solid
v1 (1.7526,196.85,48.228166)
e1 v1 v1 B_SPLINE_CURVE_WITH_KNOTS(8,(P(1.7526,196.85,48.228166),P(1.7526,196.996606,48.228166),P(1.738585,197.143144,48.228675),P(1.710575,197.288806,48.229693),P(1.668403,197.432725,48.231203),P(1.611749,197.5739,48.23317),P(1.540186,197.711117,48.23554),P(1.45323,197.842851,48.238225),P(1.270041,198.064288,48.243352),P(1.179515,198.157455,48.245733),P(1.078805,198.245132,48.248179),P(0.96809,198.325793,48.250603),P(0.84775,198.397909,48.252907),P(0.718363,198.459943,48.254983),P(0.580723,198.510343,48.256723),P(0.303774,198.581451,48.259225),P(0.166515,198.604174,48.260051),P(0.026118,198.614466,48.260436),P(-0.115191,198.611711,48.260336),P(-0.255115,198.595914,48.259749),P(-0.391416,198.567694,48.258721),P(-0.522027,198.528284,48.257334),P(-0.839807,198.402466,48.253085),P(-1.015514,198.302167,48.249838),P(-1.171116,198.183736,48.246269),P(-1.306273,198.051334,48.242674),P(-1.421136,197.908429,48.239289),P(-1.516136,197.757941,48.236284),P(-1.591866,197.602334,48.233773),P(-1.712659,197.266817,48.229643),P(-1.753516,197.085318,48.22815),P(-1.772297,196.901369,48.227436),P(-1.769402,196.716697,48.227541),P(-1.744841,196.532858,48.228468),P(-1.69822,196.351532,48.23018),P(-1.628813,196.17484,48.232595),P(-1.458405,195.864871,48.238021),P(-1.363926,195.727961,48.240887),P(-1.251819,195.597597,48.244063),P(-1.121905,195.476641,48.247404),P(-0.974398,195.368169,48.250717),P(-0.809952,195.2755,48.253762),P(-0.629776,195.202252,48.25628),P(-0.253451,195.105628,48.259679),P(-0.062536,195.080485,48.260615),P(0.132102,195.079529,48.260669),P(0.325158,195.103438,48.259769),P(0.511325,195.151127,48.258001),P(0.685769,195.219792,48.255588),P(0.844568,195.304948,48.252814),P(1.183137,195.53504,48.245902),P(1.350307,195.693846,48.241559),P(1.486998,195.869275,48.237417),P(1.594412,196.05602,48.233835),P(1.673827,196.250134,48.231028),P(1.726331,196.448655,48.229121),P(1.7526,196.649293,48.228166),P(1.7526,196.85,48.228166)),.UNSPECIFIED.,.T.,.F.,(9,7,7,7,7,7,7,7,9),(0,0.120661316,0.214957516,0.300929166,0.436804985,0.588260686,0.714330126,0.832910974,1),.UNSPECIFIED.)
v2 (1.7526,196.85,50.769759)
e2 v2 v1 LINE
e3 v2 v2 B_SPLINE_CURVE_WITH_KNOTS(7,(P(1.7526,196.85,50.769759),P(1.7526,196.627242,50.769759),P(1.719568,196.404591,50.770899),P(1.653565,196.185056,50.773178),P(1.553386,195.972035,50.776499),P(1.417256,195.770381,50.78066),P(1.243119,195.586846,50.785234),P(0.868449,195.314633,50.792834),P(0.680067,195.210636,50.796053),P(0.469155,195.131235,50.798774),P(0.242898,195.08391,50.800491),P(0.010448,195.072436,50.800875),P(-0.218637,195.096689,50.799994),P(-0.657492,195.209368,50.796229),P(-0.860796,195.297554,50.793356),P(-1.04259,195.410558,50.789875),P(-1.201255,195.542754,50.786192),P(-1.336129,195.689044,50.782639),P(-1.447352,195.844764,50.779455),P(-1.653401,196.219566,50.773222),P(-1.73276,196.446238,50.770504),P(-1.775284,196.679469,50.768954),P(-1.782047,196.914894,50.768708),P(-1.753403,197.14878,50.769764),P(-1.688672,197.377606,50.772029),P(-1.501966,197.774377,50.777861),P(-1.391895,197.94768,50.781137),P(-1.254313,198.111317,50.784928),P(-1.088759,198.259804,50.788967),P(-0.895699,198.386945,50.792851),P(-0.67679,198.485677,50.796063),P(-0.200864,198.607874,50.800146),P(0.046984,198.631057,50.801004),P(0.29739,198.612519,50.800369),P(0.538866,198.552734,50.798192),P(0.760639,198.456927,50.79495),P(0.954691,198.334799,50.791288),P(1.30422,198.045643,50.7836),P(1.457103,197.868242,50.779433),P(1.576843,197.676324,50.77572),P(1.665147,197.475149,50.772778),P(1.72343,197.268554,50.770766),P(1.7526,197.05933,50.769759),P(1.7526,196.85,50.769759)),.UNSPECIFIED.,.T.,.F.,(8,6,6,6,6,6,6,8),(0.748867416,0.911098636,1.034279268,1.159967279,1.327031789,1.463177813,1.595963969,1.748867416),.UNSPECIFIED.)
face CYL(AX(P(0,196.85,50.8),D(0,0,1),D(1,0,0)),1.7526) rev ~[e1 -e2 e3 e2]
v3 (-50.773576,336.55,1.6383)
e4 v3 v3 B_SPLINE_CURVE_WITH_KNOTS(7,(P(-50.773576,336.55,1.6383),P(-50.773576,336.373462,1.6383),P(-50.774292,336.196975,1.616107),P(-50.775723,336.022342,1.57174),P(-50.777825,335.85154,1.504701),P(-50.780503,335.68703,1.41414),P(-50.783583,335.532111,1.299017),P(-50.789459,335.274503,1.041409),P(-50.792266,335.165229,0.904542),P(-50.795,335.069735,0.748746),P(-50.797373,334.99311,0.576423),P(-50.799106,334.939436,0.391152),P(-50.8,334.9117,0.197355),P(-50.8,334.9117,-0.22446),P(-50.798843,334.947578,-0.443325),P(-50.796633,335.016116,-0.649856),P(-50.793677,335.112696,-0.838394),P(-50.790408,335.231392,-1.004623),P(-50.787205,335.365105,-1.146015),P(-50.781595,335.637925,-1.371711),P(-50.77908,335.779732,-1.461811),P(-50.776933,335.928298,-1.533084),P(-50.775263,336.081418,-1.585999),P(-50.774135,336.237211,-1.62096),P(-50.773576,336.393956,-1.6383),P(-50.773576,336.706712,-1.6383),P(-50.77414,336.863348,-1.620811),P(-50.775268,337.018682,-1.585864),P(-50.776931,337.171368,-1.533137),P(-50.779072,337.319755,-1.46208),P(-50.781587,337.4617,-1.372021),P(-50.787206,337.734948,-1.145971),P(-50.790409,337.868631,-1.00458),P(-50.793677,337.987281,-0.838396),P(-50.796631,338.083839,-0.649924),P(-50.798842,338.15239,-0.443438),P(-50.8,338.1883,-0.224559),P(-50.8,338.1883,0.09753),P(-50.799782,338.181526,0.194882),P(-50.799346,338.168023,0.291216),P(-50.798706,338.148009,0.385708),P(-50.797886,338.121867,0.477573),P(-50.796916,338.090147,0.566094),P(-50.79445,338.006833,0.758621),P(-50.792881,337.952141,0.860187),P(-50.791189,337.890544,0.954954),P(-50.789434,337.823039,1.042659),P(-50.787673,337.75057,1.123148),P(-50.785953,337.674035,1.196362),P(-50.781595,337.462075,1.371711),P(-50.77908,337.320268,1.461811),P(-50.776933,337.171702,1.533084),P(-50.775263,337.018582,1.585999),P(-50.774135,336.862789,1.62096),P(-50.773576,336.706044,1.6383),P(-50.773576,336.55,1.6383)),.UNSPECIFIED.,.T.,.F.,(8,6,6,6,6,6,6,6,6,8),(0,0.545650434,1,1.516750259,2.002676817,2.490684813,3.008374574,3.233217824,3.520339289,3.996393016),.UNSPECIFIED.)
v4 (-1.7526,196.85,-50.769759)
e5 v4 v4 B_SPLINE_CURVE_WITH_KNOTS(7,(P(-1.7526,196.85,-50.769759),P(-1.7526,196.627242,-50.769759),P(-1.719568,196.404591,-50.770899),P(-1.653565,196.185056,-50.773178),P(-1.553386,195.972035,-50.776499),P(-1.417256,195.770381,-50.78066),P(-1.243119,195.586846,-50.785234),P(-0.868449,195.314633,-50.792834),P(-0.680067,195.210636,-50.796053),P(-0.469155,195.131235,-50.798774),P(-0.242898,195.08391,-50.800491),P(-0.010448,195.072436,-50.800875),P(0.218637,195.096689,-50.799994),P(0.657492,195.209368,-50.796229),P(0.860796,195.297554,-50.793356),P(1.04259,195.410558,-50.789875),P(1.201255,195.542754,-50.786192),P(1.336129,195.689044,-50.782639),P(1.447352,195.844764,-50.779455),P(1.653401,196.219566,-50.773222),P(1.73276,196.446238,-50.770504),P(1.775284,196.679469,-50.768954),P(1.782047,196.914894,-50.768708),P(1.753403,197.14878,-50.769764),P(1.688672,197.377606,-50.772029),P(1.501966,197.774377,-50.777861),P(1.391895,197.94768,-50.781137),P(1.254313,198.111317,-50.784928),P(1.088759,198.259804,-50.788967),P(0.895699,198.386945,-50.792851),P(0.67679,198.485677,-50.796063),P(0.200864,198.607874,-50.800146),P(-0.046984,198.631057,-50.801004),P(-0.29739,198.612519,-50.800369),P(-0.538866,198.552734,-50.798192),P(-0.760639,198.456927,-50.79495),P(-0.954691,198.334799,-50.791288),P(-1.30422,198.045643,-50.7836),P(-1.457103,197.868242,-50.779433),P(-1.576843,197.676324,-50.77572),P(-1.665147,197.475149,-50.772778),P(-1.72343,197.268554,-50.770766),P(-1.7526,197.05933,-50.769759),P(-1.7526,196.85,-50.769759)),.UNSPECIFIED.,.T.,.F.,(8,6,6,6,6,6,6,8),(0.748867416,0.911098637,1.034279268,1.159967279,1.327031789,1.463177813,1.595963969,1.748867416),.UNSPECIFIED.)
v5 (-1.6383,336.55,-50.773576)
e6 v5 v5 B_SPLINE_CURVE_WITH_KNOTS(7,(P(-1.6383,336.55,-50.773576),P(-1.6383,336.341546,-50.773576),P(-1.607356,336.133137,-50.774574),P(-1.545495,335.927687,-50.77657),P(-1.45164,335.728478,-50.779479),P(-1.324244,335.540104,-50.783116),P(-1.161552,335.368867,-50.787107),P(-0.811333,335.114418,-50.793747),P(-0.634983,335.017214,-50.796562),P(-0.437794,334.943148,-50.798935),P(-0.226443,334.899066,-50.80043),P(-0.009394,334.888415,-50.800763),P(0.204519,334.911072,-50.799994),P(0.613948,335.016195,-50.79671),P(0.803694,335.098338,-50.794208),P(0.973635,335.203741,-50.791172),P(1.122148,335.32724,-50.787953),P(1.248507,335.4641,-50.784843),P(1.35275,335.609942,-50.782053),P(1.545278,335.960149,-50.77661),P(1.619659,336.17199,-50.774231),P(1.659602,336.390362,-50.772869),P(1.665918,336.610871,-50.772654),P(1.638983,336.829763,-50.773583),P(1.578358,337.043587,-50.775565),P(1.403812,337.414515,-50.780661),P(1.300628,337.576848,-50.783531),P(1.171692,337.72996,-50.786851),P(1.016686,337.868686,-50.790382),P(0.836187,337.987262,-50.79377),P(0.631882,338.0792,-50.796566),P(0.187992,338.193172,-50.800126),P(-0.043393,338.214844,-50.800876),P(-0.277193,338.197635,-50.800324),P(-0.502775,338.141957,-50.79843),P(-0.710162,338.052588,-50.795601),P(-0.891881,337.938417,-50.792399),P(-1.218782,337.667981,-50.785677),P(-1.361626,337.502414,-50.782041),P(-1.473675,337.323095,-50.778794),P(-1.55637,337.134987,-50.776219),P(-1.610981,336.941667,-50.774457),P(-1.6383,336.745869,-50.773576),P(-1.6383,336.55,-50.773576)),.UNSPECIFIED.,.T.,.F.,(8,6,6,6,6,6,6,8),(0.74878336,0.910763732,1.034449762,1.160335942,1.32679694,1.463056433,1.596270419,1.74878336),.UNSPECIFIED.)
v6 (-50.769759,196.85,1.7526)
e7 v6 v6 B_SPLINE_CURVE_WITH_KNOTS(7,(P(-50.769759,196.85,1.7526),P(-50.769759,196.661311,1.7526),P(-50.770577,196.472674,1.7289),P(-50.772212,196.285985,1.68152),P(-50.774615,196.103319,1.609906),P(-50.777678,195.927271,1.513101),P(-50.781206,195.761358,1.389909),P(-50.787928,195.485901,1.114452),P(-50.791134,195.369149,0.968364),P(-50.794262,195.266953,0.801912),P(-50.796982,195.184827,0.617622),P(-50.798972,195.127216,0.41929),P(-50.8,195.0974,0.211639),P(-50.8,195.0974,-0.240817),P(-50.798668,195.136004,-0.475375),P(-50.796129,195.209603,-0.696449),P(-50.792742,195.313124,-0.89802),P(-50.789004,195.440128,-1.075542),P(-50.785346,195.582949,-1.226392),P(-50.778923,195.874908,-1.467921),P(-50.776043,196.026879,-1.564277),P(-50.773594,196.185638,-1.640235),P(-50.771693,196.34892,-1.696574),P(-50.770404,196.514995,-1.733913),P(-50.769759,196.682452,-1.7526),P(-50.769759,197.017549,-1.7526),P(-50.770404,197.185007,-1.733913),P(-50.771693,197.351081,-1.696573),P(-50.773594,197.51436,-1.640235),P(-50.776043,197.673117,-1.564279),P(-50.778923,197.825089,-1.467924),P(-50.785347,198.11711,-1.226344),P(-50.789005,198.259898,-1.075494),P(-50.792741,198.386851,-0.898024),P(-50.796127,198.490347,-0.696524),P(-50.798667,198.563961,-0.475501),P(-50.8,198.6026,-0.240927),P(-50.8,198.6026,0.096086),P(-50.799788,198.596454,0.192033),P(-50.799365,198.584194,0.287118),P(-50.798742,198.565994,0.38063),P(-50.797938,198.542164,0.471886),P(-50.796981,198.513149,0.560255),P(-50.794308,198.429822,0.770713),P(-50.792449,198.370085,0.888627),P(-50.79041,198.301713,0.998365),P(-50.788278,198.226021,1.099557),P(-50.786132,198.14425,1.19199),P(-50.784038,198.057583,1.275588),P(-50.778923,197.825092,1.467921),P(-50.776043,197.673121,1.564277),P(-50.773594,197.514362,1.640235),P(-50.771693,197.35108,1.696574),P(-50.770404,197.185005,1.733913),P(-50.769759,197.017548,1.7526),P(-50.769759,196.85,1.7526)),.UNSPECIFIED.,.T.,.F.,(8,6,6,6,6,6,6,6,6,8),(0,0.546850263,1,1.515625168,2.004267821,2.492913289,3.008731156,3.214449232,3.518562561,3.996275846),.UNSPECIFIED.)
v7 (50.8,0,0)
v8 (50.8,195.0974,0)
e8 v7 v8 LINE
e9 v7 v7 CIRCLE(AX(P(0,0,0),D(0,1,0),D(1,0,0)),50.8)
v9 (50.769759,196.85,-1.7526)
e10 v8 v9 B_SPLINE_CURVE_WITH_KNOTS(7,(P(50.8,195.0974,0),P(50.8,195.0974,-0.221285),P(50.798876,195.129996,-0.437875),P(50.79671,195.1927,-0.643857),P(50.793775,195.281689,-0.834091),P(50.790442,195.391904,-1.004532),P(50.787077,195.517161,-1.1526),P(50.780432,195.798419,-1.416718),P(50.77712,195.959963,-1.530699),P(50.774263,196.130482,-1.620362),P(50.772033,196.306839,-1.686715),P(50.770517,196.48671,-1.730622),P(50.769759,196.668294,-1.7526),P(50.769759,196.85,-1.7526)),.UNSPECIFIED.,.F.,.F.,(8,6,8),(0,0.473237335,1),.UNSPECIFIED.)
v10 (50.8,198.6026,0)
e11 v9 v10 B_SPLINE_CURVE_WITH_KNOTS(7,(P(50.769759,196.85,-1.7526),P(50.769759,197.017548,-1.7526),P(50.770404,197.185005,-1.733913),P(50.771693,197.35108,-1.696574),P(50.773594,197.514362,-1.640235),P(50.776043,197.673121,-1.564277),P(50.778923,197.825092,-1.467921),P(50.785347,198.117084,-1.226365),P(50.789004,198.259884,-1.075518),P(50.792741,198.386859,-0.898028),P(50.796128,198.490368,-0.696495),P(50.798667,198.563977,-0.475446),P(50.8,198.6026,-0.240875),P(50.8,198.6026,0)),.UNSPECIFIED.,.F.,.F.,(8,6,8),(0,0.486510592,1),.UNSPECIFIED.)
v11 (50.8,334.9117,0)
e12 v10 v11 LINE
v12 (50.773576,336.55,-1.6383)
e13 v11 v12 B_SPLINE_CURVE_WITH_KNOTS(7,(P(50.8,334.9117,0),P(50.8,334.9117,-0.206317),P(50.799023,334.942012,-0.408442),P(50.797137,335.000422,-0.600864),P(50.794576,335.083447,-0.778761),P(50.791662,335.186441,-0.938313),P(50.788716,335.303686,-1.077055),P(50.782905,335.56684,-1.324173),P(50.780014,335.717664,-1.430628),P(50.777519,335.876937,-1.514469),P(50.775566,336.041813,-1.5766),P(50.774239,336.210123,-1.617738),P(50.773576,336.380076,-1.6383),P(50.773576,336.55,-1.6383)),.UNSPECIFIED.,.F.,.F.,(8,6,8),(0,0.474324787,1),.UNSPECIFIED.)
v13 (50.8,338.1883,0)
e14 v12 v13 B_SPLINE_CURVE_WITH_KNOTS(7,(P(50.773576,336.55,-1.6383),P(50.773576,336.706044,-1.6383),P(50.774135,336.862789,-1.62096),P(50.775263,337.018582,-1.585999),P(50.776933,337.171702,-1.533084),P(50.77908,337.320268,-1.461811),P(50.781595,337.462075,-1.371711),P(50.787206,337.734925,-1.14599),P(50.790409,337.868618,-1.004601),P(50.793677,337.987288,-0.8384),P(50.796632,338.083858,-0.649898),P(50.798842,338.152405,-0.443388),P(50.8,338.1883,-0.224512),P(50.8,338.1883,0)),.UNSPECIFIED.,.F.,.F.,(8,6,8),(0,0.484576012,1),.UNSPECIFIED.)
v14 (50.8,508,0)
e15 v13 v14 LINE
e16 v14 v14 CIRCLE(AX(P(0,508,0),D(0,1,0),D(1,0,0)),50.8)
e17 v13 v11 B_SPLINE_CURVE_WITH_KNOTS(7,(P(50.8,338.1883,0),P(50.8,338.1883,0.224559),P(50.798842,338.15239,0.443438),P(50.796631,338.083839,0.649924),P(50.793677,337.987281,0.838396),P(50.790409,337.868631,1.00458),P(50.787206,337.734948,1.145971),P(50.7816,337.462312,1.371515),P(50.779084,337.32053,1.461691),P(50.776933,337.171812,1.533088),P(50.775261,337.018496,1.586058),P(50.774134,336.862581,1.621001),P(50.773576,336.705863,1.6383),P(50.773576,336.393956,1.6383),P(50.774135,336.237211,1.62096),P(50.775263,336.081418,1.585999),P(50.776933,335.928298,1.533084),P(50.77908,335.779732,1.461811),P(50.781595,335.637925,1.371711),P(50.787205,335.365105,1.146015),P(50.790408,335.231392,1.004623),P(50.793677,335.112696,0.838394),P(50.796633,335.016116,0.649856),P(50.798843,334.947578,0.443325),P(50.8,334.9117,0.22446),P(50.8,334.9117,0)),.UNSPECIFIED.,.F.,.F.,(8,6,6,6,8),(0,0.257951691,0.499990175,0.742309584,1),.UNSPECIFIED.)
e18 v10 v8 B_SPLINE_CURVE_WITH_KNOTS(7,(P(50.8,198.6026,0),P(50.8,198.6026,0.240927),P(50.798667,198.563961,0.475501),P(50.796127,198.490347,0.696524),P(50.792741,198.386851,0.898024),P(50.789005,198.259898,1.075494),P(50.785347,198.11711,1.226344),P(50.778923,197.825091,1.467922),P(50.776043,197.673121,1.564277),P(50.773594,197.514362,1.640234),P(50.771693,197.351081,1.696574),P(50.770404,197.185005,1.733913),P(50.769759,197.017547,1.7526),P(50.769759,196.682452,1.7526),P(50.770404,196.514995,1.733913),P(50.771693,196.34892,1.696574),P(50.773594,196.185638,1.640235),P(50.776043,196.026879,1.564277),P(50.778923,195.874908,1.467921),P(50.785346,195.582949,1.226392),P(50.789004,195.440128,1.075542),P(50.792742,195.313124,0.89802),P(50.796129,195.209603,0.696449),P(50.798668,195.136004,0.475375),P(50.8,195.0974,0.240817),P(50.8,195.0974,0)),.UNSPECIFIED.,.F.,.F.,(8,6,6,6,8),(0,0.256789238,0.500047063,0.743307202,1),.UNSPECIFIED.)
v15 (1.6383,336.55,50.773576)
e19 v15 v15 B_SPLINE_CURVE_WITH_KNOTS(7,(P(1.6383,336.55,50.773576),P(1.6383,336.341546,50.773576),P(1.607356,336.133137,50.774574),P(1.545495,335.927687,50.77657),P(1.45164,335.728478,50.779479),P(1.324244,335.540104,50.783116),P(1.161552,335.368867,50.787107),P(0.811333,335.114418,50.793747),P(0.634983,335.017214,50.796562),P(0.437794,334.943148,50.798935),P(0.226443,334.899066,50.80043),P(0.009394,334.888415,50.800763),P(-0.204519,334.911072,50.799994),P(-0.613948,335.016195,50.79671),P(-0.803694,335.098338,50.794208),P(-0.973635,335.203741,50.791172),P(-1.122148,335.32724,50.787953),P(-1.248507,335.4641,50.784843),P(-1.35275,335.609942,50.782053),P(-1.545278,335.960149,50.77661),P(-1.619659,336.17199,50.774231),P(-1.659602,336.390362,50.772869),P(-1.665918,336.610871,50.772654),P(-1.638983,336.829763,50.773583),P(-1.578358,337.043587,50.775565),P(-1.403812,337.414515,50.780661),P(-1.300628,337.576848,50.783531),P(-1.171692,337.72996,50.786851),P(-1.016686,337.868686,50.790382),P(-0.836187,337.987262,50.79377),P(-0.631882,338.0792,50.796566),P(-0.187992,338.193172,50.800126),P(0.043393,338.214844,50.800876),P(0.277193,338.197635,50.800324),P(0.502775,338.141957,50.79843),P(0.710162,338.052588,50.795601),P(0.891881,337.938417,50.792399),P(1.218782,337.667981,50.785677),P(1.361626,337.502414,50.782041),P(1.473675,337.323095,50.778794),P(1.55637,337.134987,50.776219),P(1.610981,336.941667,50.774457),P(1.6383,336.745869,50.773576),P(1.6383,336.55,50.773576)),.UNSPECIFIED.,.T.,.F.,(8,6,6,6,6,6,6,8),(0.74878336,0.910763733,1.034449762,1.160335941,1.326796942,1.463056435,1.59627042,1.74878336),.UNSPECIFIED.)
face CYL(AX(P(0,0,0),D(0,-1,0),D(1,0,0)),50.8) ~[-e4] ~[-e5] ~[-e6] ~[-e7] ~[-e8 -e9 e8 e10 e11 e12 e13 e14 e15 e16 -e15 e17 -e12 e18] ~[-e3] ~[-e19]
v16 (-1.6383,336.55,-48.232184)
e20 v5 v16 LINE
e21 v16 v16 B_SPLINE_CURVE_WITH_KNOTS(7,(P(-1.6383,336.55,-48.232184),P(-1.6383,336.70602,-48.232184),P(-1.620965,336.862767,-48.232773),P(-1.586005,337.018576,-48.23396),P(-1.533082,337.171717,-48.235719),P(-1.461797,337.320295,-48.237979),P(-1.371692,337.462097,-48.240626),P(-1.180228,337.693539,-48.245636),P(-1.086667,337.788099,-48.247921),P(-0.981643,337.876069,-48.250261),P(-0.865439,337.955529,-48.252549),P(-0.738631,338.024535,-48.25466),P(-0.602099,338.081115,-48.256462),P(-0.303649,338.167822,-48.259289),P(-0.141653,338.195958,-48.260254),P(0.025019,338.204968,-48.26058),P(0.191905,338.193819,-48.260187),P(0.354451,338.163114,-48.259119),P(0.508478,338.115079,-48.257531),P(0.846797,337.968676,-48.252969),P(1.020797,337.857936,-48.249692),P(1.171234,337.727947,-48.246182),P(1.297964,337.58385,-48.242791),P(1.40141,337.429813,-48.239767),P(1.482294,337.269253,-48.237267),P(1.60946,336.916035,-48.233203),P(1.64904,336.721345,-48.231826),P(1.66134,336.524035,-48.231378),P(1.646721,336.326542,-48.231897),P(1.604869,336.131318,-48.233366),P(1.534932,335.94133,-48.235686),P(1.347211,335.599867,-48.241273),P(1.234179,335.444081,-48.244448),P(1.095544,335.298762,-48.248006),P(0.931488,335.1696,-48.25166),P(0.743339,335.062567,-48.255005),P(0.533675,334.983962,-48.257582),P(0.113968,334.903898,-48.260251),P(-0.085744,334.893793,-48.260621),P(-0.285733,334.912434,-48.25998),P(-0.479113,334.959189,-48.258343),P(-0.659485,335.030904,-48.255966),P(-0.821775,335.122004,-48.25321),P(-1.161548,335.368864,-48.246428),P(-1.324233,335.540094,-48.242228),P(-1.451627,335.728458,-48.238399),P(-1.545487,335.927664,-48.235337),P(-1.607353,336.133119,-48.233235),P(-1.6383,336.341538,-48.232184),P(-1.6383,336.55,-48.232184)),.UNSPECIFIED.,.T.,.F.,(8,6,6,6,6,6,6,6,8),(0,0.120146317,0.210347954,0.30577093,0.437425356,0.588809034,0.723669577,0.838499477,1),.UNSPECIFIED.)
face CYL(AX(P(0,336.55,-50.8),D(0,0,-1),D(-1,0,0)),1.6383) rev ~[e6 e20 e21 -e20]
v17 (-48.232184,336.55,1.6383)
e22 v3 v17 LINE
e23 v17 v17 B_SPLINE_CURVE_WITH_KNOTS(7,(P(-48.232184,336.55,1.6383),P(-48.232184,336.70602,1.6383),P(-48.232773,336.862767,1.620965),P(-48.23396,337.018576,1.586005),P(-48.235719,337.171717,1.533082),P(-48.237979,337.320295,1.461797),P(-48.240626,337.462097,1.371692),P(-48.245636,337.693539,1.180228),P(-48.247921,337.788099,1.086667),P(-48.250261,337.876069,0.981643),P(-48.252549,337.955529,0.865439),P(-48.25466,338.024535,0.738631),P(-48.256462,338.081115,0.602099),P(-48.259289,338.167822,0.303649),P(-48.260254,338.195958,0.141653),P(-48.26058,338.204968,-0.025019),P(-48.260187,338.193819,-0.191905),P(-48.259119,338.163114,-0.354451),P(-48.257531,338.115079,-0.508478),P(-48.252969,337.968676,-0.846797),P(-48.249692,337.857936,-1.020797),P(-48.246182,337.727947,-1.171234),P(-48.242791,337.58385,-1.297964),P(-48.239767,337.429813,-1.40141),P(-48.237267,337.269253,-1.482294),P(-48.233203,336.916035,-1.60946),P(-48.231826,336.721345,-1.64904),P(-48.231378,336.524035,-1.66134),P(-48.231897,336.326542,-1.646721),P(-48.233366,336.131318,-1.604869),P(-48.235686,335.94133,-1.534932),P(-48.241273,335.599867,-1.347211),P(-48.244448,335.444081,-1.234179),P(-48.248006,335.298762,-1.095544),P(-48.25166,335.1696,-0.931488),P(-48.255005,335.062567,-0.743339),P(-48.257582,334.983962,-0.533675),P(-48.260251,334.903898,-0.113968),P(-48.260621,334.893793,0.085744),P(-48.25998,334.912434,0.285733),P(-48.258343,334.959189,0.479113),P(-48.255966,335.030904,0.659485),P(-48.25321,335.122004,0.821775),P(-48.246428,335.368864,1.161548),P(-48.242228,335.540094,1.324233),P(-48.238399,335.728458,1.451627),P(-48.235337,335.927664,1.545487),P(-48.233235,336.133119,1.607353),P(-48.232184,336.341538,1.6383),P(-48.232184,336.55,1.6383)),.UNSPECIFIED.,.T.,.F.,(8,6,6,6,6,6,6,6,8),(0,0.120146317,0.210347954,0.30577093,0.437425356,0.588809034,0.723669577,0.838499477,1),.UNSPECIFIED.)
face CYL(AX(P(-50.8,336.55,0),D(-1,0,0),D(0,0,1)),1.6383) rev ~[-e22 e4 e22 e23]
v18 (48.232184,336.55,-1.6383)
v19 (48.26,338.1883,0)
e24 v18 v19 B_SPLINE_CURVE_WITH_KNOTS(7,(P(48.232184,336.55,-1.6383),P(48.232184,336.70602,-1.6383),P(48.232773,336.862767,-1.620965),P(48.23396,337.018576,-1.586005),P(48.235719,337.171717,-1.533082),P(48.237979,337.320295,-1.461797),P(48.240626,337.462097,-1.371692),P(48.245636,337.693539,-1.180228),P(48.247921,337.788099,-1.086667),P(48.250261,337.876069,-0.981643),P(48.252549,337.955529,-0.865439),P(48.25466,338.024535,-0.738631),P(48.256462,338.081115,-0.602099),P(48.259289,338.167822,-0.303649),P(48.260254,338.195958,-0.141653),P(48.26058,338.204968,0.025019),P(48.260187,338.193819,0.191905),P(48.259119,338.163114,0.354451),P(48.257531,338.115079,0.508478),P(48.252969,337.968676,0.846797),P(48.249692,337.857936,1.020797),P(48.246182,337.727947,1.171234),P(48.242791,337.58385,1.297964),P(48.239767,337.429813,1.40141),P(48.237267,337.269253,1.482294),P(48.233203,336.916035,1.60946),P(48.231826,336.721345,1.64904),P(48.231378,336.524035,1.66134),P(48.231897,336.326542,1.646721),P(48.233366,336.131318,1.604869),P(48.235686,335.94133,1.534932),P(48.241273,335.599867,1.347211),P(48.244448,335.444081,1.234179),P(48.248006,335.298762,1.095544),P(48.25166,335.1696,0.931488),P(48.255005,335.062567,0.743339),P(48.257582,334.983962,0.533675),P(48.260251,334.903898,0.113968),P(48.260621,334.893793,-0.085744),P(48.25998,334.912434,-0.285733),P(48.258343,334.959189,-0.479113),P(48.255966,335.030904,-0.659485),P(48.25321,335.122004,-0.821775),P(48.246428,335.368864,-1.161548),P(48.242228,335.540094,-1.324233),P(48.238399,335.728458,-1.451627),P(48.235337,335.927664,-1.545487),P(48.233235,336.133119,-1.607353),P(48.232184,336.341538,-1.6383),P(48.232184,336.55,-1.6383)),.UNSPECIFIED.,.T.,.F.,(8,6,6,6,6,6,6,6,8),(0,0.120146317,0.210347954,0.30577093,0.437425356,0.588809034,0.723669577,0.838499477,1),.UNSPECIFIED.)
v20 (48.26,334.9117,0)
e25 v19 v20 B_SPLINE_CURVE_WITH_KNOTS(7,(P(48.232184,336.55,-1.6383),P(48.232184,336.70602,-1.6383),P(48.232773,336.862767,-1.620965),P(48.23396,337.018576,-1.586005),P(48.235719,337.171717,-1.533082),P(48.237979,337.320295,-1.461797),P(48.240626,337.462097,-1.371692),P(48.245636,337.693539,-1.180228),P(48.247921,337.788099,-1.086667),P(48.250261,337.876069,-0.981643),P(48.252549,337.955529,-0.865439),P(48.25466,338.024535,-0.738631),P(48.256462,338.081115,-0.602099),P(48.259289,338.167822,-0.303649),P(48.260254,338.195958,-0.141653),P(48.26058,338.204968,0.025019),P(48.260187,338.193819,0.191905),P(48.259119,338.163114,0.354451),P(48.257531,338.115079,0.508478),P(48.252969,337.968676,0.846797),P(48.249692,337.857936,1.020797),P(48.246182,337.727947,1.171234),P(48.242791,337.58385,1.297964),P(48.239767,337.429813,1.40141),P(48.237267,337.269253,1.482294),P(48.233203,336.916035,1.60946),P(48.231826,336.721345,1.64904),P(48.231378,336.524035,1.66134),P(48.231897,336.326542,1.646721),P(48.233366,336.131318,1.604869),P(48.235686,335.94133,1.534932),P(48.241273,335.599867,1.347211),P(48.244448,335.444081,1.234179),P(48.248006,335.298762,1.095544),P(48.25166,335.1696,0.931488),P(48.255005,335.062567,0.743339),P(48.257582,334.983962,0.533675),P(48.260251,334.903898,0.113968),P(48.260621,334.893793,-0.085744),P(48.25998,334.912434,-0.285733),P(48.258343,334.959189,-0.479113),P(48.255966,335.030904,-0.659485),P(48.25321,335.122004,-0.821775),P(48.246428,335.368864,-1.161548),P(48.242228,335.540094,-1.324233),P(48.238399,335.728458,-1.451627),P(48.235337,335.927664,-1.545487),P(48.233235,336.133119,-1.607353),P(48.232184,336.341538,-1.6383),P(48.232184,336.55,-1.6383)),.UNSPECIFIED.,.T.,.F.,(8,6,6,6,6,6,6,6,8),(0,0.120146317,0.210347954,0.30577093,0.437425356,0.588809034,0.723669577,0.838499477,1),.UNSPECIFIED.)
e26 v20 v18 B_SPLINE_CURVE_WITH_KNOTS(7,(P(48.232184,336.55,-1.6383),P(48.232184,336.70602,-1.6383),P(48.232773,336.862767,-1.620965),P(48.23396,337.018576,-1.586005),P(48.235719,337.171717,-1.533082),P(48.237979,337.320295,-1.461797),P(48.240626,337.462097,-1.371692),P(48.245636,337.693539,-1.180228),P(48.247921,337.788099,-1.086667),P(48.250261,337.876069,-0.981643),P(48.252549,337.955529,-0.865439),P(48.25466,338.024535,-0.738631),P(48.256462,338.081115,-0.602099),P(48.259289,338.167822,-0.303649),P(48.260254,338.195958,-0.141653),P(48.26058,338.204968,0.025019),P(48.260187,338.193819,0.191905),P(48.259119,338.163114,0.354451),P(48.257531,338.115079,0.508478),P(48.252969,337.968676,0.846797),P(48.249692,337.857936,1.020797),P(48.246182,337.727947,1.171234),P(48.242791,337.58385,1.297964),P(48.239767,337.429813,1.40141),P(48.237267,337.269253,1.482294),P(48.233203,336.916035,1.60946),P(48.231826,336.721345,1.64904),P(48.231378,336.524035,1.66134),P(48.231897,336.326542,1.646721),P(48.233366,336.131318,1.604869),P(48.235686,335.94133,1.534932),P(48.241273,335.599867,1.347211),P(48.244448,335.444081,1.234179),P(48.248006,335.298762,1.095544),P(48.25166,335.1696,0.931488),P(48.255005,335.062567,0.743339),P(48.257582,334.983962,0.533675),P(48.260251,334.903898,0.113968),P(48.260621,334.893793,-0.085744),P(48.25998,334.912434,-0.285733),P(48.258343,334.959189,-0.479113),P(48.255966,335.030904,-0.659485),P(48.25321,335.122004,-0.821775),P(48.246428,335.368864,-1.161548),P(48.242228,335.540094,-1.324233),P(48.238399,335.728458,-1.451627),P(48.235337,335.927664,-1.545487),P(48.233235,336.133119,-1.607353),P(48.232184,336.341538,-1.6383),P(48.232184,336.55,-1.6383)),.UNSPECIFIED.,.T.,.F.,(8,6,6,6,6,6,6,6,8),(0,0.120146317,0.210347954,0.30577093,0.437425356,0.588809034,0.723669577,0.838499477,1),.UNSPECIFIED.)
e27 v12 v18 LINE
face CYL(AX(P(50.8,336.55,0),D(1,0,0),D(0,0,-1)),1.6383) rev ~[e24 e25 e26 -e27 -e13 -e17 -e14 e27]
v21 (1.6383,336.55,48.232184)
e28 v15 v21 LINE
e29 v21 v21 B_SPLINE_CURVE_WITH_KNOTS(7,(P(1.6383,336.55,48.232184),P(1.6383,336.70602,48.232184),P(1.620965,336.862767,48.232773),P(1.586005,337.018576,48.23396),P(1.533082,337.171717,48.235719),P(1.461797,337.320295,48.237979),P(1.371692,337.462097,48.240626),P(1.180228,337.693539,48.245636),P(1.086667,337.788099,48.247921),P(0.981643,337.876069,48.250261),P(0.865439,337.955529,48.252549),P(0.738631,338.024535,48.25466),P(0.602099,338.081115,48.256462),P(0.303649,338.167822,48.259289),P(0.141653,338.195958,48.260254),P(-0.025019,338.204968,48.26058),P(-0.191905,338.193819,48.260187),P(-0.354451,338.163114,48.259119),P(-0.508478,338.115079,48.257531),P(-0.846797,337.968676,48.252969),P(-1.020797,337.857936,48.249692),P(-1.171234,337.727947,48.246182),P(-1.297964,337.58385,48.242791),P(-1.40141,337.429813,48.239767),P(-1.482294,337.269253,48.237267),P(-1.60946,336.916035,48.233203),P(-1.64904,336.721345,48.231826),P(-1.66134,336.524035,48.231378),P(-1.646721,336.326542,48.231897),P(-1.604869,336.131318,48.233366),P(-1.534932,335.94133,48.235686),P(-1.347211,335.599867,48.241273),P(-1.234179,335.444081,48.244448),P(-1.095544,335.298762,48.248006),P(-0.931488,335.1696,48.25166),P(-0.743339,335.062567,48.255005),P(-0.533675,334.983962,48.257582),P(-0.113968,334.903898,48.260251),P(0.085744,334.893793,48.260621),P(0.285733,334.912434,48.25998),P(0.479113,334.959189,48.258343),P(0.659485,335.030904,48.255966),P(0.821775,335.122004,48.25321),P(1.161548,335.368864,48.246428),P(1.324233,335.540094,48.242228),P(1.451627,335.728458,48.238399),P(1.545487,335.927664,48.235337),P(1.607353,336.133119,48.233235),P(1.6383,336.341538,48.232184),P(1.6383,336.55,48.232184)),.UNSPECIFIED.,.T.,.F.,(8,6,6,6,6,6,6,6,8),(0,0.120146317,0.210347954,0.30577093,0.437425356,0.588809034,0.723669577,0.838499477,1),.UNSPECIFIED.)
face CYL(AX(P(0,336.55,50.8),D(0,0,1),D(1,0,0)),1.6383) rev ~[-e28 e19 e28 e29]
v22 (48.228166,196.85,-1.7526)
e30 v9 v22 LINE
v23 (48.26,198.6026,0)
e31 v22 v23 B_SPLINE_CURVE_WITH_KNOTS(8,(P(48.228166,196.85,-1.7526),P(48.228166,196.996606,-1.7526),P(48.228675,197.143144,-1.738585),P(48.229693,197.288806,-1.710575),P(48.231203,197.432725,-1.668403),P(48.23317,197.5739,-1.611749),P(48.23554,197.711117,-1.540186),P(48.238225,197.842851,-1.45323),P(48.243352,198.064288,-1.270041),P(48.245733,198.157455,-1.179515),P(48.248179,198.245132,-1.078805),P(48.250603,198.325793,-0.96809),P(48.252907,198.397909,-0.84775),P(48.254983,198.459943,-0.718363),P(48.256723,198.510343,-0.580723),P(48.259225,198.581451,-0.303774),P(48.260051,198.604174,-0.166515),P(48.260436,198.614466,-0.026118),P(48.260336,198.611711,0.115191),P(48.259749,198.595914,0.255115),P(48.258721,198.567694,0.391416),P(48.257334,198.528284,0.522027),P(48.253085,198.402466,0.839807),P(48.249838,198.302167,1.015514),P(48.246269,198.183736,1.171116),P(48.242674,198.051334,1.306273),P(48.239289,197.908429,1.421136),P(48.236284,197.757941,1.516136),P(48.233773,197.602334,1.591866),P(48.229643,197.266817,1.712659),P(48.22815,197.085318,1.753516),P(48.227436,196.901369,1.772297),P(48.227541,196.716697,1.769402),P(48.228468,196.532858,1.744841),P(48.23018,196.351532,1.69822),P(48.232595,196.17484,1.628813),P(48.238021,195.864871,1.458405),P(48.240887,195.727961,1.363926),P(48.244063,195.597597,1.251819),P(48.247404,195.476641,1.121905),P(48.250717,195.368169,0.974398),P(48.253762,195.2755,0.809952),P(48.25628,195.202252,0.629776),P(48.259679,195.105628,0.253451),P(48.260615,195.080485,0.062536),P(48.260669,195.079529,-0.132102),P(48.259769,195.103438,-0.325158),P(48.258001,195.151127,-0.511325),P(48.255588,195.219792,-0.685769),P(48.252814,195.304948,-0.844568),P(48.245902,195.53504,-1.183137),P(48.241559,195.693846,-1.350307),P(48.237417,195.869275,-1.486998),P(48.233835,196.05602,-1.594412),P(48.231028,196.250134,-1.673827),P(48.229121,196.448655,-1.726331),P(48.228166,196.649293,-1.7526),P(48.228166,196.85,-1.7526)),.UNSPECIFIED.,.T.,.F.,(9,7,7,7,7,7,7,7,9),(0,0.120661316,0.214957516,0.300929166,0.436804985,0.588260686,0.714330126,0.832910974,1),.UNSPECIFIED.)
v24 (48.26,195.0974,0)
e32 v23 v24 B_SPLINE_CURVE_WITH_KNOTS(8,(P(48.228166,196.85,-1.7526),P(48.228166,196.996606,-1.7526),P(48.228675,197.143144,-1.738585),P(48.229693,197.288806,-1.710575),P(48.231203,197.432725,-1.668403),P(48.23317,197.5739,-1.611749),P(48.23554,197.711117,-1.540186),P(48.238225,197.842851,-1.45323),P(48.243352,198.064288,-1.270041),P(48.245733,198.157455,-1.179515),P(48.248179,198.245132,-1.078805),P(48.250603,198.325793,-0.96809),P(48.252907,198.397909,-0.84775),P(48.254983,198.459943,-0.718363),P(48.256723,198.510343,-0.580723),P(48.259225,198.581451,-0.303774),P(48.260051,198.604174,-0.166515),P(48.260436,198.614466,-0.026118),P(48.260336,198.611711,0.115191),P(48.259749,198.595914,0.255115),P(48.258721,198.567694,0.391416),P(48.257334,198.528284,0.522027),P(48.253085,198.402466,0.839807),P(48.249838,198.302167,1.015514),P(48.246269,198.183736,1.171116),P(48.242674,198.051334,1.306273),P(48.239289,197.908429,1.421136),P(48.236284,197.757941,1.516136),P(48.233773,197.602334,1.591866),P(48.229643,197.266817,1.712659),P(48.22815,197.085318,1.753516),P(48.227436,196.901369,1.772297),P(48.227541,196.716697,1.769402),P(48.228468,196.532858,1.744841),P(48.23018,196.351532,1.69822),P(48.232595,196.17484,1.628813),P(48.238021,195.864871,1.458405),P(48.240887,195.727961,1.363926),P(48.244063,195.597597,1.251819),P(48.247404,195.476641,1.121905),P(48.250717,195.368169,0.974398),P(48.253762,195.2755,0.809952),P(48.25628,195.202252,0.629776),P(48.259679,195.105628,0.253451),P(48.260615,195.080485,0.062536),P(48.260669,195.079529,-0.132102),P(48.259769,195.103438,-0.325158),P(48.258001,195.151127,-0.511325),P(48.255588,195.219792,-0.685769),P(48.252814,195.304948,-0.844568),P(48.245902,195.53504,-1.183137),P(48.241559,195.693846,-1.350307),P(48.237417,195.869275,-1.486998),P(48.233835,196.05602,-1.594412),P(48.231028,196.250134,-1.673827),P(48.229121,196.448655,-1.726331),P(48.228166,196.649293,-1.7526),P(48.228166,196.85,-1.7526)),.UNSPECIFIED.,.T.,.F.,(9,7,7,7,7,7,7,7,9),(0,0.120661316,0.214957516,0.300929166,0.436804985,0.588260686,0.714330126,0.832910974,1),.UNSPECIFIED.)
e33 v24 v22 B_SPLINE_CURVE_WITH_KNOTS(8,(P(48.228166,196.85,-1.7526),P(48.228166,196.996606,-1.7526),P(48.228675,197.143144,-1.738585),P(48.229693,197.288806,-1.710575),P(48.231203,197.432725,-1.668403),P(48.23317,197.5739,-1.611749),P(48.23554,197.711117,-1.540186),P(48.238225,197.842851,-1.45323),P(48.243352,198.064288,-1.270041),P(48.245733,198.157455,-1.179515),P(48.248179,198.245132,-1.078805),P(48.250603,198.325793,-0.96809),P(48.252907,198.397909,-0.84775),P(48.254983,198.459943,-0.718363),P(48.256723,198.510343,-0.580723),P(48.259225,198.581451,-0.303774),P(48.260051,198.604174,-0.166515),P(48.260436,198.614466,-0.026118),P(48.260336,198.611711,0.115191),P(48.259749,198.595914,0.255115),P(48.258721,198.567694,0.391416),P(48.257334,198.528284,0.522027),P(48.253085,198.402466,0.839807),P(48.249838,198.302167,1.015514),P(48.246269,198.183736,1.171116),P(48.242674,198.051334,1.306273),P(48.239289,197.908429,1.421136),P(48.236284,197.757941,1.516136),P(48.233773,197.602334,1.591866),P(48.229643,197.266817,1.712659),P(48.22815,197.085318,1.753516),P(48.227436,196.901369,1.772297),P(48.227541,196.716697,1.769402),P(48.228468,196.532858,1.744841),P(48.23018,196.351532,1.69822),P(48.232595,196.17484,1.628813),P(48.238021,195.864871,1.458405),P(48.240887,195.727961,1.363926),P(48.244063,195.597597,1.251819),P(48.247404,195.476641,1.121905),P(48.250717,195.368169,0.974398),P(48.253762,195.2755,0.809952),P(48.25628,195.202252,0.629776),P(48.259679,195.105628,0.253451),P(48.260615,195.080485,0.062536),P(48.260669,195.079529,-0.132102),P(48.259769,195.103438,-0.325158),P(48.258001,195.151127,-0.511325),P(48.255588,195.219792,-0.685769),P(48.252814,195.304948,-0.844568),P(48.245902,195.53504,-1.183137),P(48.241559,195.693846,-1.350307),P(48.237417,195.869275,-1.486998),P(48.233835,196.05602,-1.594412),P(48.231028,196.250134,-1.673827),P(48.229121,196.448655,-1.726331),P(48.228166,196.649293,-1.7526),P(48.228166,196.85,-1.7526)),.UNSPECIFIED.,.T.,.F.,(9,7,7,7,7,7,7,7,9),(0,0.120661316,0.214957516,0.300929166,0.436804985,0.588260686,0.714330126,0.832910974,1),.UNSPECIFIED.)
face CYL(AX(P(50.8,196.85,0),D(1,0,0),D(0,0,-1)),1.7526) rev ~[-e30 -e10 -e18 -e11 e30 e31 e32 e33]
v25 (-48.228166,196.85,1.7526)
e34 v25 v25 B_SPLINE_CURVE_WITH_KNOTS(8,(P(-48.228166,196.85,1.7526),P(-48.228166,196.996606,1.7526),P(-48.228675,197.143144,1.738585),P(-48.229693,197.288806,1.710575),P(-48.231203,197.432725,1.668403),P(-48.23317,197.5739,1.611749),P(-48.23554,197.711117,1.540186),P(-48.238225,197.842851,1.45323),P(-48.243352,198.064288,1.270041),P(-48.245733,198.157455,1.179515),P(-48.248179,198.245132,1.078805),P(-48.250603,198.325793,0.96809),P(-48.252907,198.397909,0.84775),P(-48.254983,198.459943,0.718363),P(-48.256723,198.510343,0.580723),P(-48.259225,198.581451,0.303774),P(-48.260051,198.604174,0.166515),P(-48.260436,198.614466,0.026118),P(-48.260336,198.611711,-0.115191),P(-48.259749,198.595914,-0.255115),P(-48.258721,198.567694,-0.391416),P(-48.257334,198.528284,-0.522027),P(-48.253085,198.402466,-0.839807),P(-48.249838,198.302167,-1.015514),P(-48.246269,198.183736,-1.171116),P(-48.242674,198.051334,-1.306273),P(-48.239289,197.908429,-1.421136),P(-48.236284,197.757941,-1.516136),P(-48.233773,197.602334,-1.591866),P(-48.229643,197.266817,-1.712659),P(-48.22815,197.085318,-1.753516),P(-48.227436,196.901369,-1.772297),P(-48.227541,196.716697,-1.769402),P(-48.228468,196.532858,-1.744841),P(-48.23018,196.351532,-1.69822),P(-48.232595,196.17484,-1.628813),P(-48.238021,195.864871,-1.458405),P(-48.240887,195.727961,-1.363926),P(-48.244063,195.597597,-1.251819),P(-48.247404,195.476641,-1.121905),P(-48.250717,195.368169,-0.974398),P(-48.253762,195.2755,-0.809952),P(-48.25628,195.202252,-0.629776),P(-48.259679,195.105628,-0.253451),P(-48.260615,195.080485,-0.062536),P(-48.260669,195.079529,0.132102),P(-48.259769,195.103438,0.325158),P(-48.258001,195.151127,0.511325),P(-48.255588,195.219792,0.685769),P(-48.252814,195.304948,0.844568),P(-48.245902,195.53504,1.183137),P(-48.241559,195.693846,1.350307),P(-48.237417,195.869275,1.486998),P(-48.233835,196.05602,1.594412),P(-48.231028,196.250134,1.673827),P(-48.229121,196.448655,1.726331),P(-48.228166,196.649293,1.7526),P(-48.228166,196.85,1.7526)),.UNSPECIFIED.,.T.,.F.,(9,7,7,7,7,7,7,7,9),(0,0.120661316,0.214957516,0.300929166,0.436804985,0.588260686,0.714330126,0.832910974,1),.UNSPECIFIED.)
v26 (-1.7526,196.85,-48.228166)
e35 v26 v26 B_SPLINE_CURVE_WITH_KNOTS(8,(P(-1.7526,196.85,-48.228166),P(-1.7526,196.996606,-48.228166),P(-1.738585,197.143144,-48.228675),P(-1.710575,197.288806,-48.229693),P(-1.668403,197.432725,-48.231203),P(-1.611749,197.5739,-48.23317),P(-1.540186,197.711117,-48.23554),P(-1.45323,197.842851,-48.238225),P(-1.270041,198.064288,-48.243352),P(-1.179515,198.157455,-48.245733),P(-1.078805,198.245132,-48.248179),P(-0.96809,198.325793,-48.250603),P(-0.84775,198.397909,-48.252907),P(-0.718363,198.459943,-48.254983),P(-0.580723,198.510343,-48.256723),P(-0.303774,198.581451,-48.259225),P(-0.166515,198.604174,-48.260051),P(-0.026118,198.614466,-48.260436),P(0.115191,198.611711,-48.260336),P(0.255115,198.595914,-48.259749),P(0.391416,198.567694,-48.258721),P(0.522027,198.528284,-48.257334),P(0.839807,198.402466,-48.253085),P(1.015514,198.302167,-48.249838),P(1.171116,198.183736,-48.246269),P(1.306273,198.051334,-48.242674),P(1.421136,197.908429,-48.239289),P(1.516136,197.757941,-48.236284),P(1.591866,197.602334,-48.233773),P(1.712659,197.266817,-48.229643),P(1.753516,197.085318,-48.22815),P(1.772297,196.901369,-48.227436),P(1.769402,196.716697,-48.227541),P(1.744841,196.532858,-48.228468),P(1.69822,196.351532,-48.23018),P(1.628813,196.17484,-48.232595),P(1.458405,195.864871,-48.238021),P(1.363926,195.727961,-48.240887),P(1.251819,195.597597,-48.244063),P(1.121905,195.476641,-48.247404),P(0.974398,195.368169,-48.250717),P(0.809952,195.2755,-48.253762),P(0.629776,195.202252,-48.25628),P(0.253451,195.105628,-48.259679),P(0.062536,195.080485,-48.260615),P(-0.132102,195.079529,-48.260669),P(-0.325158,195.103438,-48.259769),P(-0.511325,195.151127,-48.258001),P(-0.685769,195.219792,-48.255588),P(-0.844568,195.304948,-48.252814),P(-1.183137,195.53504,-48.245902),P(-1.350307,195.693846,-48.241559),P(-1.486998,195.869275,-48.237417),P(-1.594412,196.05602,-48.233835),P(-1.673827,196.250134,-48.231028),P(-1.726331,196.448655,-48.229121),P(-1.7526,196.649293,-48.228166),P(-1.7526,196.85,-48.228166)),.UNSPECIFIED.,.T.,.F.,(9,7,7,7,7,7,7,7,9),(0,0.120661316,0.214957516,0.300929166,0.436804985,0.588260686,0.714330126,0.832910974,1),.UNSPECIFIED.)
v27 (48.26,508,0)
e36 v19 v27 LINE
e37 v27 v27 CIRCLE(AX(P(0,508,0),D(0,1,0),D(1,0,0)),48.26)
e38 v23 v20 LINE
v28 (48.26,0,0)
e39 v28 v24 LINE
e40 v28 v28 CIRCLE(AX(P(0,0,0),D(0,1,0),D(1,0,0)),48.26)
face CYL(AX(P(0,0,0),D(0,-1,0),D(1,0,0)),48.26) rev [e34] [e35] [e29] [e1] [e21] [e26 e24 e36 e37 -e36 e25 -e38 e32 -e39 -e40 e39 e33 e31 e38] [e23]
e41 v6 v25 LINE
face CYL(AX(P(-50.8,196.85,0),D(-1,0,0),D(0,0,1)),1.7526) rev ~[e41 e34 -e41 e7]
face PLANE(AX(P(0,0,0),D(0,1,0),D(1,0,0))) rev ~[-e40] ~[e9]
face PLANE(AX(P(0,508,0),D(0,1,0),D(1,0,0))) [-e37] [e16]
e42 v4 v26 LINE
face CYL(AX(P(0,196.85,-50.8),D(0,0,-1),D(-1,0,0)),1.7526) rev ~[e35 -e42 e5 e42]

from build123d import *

# Parameters (mm, degrees)
SKETCH1_R                = 50.8
SKETCH1_R_2              = 48.26
COUPLER_EXTRUSION_DEPTH  = 508
BULKHEAD_HOLE_REACH      = 522.545
BULKHEAD_HOLE_END_RADIUS = 48.26
SKETCH2_R                = 1.6383
CIRPATTERN1_COUNT        = 4
CUT_EXTRUDE1_REACH       = 522.545
CUT_EXTRUDE1_END_RADIUS  = 48.26
SKETCH3_R                = 1.7526
CIRPATTERN2_COUNT        = 4


with BuildPart() as part:
    # Sketch1 → Coupler Extrusion (new body)
    with BuildSketch(Plane(origin=(0, 0, 0), x_dir=(1, 0, 0), z_dir=(0, 1, 0))):
        Circle(SKETCH1_R)
        Circle(SKETCH1_R_2, mode=Mode.SUBTRACT)
    extrude(amount=COUPLER_EXTRUSION_DEPTH)

    # Bulkhead Hole: up to this cylinder (the profile starts outside it)
    bulkhead_hole_end = Plane(origin=(0, 336.55, 0), z_dir=(0, -1, 0)) * Cylinder(BULKHEAD_HOLE_END_RADIUS, 1142.61, mode=Mode.PRIVATE)
    # Sketch2 → Bulkhead Hole (cut, up to the surface)
    with BuildSketch(Plane.XY.offset(50.8), mode=Mode.PRIVATE) as bulkhead_hole_sk1:
        with Locations((0, 336.55)):
            Circle(SKETCH2_R)
    bulkhead_hole_tool1 = extrude(bulkhead_hole_sk1.sketch, amount=-BULKHEAD_HOLE_REACH, mode=Mode.PRIVATE) - bulkhead_hole_end
    bulkhead_hole = bulkhead_hole_tool1.solids().sort_by_distance((0, 336.55, 50.8))[0]
    add(bulkhead_hole, mode=Mode.SUBTRACT)

    # CirPattern1: Bulkhead Hole ×4 about axis
    cirpattern1_axis = Axis((0, 508, 0), (0, -1, 0))
    for i in range(1, CIRPATTERN1_COUNT):
        add(bulkhead_hole.rotate(cirpattern1_axis, i * 360 / CIRPATTERN1_COUNT), mode=Mode.SUBTRACT)

    # Cut-Extrude1: up to this cylinder (the profile starts outside it)
    cut_extrude1_end = Plane(origin=(0, 196.85, 0), z_dir=(0, -1, 0)) * Cylinder(CUT_EXTRUDE1_END_RADIUS, 1142.61, mode=Mode.PRIVATE)
    # Sketch3 → Cut-Extrude1 (cut, up to the surface)
    with BuildSketch(Plane.XY.offset(50.8), mode=Mode.PRIVATE) as cut_extrude1_sk1:
        with Locations((0, 196.85)):
            Circle(SKETCH3_R)
    cut_extrude1_tool1 = extrude(cut_extrude1_sk1.sketch, amount=-CUT_EXTRUDE1_REACH, mode=Mode.PRIVATE) - cut_extrude1_end
    cut_extrude1 = cut_extrude1_tool1.solids().sort_by_distance((0, 196.85, 50.8))[0]
    add(cut_extrude1, mode=Mode.SUBTRACT)

    # CirPattern2: Cut-Extrude1 ×4 about axis
    cirpattern2_axis = Axis((0, 508, 0), (0, -1, 0))
    for i in range(1, CIRPATTERN2_COUNT):
        add(cut_extrude1.rotate(cirpattern2_axis, i * 360 / CIRPATTERN2_COUNT), mode=Mode.SUBTRACT)


solid = part.part
